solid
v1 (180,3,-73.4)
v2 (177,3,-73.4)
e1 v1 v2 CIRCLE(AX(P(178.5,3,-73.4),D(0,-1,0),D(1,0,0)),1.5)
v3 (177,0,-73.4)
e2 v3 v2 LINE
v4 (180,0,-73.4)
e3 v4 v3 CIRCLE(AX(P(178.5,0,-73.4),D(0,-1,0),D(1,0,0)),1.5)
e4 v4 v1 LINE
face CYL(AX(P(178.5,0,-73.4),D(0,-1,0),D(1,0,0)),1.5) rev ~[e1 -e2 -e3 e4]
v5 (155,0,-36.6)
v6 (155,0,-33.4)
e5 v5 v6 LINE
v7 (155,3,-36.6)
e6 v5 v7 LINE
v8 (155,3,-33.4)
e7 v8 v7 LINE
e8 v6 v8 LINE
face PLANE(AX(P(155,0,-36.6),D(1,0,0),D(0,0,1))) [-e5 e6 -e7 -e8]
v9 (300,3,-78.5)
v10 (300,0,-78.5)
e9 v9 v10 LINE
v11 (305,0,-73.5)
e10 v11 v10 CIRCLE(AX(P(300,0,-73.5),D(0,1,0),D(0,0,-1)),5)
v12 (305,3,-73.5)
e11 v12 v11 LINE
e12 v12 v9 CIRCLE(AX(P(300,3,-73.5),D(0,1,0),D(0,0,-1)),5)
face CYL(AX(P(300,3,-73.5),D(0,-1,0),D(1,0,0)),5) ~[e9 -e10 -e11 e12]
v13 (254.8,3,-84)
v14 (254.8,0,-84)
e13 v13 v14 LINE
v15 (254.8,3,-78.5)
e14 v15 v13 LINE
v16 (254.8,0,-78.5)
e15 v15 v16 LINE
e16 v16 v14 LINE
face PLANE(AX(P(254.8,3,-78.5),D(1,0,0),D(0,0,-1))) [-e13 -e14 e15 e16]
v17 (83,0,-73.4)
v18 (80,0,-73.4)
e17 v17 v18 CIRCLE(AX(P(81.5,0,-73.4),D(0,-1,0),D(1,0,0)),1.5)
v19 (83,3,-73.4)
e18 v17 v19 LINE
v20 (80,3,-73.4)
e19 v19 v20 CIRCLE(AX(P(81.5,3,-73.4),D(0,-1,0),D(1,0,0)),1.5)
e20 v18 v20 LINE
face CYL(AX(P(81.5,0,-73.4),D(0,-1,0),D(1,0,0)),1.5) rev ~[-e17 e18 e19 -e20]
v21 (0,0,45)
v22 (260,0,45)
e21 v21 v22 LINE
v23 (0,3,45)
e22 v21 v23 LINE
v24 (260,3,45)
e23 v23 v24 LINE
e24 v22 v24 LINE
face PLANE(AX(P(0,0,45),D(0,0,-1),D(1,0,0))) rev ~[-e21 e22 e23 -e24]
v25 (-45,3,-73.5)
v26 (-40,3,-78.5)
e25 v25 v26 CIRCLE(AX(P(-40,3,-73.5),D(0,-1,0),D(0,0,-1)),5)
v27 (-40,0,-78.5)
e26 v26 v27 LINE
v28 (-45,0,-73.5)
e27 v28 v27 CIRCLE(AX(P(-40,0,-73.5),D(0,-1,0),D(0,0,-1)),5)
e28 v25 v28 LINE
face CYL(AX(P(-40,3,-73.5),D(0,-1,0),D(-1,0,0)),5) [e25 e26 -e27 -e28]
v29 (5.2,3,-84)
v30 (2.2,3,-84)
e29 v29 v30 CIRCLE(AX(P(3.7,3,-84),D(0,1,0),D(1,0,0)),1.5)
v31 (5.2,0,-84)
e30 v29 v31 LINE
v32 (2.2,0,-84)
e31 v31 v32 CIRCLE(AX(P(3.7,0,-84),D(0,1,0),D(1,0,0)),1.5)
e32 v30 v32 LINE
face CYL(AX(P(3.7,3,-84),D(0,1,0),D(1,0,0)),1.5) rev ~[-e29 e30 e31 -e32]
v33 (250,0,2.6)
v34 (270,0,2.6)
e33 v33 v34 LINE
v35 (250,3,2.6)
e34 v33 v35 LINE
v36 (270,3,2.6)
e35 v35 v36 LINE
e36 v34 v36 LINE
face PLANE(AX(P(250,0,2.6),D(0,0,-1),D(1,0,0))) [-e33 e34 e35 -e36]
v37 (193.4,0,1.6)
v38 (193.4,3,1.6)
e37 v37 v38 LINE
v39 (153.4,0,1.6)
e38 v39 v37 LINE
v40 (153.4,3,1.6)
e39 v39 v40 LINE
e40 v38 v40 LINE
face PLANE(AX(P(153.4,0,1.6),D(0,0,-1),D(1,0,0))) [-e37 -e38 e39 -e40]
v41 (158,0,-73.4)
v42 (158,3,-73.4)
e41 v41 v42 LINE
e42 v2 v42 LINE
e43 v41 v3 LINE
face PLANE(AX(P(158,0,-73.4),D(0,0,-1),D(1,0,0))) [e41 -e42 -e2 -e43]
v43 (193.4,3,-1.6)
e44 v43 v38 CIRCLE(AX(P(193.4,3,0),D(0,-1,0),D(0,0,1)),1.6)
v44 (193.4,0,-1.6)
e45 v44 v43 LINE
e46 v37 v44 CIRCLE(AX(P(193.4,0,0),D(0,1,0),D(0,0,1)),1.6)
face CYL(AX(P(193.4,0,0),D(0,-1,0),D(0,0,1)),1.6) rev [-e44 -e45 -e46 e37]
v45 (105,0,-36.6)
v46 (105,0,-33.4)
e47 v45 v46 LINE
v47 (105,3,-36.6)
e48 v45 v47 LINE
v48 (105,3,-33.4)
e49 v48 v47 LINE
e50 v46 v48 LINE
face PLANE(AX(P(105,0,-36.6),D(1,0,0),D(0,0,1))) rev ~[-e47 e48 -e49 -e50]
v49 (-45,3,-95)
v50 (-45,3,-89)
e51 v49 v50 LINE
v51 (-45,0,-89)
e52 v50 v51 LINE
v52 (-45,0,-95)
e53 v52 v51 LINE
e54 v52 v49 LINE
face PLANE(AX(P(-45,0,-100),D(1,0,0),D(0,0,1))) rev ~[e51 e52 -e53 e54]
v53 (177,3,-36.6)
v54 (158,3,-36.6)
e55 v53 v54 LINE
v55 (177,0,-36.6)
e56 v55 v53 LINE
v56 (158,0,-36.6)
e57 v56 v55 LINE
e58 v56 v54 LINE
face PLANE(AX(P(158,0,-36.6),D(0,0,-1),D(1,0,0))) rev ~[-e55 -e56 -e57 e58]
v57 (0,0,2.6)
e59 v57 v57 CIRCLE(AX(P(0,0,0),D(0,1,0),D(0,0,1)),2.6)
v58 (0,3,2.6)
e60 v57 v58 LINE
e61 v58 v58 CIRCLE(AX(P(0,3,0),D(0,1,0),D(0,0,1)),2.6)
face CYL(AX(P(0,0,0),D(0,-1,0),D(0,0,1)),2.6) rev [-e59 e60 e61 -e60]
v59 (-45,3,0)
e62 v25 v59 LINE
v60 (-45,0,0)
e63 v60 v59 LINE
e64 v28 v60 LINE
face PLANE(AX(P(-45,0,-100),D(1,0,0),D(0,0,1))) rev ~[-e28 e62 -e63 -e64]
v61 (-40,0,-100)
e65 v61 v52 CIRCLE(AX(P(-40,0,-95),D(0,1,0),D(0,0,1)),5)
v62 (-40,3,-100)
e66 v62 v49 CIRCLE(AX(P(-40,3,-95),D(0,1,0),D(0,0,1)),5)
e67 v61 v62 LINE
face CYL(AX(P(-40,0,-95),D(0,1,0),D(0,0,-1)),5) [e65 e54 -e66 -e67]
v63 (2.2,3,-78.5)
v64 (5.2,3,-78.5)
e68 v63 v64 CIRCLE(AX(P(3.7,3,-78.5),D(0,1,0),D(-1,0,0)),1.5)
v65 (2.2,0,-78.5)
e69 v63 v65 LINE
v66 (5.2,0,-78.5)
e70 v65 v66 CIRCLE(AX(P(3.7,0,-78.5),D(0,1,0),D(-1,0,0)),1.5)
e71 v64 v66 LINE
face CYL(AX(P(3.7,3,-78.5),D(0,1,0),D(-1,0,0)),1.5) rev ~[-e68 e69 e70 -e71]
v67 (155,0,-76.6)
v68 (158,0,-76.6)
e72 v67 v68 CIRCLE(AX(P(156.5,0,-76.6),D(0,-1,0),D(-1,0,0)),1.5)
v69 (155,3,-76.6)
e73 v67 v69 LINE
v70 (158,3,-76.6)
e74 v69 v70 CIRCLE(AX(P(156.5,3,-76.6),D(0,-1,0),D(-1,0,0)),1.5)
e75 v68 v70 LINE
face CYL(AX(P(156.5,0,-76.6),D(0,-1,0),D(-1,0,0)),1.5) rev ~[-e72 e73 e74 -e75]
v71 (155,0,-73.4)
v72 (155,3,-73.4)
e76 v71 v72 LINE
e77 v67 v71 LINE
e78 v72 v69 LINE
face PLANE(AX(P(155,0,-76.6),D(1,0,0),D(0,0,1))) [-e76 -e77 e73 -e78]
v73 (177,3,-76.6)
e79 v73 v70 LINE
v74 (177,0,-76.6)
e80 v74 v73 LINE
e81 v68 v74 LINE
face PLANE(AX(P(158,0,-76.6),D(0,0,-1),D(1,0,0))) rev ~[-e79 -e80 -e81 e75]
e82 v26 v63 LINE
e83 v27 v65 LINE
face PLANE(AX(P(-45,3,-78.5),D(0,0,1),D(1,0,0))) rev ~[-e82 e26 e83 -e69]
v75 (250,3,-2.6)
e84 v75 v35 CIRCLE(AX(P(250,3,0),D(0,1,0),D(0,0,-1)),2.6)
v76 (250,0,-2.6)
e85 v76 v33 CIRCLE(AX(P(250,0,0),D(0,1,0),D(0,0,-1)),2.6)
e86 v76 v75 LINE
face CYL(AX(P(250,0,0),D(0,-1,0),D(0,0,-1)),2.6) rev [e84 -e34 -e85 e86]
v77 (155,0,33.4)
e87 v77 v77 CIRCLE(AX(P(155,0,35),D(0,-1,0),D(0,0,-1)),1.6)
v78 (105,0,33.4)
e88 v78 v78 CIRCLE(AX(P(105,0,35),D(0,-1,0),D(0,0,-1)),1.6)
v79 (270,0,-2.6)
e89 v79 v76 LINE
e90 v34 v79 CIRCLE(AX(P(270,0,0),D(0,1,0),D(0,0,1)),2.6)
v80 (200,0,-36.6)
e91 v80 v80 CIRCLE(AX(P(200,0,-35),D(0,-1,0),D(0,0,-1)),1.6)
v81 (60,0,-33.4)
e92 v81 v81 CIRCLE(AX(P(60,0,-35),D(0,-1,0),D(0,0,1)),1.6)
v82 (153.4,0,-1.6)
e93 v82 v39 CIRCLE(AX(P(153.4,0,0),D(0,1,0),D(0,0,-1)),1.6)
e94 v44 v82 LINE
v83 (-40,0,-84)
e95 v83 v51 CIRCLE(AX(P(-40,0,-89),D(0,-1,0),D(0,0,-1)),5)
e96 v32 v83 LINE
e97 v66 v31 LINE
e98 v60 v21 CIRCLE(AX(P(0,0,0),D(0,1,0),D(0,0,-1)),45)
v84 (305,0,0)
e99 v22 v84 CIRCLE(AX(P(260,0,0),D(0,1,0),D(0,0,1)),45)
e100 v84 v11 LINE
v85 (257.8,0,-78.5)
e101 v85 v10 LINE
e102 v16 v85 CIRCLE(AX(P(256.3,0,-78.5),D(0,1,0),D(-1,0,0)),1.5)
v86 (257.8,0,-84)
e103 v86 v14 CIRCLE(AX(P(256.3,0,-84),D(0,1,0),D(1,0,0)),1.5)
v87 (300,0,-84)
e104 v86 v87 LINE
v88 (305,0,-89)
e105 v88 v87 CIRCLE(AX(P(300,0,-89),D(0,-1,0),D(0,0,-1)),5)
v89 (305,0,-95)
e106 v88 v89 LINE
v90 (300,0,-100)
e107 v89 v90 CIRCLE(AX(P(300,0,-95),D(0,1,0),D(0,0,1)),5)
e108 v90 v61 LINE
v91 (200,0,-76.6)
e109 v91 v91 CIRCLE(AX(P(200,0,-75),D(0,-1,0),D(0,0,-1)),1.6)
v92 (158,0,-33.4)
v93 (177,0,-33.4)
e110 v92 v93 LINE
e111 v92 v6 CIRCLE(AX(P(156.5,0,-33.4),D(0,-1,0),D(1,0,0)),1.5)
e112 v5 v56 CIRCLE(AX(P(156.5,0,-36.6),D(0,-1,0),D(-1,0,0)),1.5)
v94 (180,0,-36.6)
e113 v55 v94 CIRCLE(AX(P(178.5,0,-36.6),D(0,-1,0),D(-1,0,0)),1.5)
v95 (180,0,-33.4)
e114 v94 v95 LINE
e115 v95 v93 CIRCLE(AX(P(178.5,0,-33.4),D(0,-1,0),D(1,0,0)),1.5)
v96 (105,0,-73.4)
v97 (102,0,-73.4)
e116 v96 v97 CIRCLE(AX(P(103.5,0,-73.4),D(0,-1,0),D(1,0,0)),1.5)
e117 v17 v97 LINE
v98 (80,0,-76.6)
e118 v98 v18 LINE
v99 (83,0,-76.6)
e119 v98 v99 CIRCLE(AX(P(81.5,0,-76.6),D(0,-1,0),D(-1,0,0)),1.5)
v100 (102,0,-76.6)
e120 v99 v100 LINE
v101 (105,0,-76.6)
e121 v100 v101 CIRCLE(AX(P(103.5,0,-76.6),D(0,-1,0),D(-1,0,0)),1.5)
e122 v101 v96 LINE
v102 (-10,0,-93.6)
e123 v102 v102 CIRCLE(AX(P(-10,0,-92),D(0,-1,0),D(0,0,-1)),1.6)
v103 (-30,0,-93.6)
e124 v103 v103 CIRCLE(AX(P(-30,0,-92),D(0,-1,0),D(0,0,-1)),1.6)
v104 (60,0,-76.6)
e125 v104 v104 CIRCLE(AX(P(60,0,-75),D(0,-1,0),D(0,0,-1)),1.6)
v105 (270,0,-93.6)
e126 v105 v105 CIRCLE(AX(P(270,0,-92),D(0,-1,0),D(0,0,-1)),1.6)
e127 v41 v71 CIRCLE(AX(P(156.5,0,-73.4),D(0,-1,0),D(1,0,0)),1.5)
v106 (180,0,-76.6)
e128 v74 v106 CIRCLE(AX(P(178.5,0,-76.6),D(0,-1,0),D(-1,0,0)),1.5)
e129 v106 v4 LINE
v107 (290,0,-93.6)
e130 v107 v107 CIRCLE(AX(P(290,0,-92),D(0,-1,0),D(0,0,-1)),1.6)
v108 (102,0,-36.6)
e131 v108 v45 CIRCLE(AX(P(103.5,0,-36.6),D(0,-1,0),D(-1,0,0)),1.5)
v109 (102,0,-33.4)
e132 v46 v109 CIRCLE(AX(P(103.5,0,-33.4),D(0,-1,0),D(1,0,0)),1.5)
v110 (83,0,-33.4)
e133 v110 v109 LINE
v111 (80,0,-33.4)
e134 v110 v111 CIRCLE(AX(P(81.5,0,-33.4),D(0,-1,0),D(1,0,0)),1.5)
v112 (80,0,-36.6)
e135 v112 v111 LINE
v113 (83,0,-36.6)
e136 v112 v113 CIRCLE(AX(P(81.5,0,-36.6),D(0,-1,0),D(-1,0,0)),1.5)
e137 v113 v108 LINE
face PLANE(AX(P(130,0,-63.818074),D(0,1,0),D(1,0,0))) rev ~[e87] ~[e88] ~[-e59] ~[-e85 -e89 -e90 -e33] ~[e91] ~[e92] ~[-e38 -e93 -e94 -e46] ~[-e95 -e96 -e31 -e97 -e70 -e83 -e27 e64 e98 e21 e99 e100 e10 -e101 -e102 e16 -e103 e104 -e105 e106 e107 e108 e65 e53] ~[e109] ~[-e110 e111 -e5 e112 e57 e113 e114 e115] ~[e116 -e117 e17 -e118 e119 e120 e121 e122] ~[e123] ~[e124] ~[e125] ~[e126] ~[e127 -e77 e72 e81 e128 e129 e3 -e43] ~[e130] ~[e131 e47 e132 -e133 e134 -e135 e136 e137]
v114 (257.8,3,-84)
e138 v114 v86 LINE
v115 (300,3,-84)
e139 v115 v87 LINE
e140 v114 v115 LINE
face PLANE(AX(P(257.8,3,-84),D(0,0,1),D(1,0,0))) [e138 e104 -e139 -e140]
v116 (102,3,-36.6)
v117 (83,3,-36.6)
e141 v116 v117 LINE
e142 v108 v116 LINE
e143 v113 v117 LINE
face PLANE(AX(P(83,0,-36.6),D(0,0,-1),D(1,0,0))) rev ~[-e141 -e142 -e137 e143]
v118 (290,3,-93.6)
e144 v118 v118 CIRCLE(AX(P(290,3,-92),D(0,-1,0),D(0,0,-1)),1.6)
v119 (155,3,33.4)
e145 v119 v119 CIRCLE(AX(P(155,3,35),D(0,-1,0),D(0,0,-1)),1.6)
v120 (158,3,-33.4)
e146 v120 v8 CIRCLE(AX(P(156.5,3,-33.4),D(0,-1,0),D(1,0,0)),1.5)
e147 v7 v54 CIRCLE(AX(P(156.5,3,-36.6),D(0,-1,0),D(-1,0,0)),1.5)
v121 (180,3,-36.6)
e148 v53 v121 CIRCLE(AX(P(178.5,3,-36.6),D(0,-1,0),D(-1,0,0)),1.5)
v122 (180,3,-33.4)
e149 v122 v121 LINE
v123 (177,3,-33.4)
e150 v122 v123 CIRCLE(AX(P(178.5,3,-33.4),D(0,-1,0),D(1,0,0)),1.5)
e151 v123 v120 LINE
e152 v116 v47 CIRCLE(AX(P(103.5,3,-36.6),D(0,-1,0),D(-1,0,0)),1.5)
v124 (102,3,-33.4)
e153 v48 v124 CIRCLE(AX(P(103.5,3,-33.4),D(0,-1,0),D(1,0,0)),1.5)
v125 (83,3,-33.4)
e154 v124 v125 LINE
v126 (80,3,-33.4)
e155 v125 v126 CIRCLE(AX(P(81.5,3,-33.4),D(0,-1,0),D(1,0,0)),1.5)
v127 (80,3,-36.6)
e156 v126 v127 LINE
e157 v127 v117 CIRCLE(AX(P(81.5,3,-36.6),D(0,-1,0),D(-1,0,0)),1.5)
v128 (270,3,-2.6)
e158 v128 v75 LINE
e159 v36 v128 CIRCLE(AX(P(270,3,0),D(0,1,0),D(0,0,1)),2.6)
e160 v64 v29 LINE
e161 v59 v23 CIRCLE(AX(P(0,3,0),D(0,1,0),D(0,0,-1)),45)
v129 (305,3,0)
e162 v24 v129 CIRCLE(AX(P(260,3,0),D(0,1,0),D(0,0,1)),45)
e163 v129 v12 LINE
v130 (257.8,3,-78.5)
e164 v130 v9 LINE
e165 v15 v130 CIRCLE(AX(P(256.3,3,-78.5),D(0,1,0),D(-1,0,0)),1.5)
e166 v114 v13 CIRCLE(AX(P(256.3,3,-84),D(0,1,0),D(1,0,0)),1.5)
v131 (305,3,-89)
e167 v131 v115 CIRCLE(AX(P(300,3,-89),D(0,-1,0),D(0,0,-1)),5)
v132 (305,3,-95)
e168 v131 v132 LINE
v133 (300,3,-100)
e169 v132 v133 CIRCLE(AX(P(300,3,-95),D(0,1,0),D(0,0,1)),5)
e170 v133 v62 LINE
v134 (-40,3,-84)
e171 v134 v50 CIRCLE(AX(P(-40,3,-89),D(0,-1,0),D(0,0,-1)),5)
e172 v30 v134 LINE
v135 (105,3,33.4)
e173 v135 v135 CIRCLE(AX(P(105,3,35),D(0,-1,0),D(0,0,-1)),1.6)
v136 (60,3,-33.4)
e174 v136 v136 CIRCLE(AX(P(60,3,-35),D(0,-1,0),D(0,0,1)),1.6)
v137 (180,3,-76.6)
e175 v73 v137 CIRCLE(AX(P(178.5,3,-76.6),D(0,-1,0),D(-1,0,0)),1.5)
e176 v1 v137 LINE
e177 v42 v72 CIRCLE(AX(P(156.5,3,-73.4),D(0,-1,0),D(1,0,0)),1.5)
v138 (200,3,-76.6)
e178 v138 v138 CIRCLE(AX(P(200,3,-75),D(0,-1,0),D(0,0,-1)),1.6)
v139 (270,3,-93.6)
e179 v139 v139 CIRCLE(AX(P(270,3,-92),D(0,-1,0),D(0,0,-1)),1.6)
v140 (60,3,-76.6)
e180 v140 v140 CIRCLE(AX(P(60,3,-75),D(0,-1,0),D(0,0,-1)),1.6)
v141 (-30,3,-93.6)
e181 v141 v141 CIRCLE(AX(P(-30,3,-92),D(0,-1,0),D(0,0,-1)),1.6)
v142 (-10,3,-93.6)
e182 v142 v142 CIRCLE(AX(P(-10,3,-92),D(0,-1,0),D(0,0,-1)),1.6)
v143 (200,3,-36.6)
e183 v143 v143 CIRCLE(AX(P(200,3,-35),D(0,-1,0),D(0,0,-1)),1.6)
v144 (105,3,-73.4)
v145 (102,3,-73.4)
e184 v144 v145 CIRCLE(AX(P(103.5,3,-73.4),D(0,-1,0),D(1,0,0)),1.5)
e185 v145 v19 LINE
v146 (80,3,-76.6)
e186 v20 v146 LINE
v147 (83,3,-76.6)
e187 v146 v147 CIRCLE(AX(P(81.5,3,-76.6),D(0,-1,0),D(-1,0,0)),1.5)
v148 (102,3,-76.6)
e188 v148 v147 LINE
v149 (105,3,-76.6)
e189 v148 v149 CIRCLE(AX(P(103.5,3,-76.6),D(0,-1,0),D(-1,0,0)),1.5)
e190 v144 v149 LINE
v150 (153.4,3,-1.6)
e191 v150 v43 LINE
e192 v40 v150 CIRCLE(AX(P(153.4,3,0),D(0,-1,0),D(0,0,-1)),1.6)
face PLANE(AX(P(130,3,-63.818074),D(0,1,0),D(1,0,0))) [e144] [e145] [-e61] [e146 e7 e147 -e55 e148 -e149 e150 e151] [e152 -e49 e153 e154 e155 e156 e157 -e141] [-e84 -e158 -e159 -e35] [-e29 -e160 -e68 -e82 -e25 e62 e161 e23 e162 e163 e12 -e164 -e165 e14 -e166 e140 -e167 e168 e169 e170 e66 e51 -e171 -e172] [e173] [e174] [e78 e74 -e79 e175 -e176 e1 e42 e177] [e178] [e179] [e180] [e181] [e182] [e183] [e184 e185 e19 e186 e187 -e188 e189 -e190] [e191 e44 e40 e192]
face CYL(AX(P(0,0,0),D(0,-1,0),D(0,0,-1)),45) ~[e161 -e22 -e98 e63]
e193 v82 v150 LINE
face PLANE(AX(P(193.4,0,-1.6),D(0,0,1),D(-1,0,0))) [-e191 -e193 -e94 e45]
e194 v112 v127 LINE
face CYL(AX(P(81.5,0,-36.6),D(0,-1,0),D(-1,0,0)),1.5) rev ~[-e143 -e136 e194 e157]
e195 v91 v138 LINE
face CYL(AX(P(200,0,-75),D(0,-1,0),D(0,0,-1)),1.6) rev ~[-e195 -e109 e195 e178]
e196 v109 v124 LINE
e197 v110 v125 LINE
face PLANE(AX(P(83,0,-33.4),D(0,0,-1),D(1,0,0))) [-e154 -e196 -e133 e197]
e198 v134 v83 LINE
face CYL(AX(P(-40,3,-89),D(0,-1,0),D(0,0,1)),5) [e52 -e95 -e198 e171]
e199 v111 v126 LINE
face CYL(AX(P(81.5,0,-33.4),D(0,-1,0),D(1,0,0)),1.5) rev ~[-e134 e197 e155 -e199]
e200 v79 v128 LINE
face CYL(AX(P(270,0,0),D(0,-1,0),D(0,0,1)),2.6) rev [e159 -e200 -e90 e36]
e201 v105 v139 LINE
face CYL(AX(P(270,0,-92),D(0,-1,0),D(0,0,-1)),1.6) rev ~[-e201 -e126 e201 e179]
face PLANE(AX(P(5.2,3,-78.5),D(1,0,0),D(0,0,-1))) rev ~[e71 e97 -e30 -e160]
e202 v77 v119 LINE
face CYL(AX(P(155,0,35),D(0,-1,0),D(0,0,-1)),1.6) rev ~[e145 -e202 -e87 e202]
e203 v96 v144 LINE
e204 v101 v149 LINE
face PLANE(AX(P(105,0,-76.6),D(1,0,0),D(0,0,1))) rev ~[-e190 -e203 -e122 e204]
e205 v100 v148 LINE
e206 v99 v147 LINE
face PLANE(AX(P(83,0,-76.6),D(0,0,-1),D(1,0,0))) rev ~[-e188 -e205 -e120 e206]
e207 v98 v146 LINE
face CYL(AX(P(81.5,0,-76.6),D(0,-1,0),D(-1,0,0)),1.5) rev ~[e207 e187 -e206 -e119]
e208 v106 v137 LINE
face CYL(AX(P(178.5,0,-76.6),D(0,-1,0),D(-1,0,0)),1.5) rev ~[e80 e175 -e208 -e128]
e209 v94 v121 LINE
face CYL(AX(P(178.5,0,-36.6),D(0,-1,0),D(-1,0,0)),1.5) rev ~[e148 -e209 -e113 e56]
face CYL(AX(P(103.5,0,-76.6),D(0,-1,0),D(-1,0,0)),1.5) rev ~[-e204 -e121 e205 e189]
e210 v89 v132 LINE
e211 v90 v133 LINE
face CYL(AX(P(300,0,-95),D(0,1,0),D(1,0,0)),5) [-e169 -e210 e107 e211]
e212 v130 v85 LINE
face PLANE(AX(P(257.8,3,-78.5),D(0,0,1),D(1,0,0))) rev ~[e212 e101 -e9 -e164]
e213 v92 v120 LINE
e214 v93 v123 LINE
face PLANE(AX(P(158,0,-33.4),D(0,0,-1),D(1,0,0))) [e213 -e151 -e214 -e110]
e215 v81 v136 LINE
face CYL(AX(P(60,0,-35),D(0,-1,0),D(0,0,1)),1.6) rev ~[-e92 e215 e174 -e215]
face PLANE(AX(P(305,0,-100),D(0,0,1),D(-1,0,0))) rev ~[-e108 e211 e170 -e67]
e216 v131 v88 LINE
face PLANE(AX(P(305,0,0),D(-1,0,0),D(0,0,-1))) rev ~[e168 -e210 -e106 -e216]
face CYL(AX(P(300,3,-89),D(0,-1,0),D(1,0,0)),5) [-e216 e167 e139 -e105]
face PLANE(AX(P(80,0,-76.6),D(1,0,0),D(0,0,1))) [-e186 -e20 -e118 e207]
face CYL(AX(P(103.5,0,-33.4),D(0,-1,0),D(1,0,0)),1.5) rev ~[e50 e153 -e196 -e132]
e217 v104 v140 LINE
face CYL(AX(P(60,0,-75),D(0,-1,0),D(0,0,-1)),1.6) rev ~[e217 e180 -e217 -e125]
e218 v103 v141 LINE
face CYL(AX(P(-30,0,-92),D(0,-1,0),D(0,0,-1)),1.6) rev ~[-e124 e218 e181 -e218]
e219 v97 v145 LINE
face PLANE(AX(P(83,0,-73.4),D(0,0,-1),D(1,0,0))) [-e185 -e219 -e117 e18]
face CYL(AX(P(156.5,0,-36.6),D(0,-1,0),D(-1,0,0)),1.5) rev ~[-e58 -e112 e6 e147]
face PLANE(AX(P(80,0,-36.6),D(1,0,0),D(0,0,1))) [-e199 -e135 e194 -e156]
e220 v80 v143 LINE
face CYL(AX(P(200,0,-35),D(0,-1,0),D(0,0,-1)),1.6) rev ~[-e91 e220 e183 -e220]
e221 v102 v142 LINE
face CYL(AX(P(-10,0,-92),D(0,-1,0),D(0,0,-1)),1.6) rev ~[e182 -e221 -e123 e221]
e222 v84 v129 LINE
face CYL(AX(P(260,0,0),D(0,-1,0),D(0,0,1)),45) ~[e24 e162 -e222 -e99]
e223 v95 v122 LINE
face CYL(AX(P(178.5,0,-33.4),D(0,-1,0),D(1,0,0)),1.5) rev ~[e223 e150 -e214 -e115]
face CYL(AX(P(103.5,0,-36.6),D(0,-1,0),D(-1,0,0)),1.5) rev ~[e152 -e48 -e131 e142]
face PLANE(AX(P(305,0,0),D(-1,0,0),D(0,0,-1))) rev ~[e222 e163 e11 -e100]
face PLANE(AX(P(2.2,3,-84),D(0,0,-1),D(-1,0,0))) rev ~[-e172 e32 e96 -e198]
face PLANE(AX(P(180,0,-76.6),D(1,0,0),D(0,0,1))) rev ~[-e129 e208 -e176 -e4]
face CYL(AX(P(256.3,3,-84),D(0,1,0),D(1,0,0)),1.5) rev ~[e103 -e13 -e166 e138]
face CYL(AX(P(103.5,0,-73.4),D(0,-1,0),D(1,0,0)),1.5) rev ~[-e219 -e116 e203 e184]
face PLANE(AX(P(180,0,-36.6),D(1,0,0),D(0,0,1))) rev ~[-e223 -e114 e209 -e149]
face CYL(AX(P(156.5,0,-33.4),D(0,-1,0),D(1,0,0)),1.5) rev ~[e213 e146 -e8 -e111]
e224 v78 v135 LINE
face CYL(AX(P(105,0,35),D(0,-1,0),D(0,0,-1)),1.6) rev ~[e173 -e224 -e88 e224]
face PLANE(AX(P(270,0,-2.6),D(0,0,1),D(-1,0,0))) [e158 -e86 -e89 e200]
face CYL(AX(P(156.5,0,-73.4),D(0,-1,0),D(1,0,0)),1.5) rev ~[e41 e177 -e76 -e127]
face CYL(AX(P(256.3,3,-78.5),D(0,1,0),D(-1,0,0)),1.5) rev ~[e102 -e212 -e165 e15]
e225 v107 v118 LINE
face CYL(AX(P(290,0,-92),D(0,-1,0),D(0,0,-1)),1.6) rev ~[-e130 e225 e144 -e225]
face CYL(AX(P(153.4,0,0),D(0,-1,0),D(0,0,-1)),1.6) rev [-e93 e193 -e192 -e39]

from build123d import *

# Parameters (mm, degrees)
SKETCH1_R           = 2.6
BOSS_EXTRUDE1_DEPTH = 3
SKETCH2_W           = 3
SKETCH2_H           = 3.2
SKETCH2_W_2         = 19
SKETCH2_R           = 1.6
CUT_EXTRUDE1_DEPTH  = 10
FILLET1_R           = 5
SKETCH3_R           = 1.6
CUT_EXTRUDE2_DEPTH  = 321.989096388
SKETCH4_W           = 47.2
SKETCH4_H           = 5.5
SKETCH4_W_2         = 3
CUT_EXTRUDE3_DEPTH  = 321.989096388
FILLET2_R           = 5


with BuildPart() as part:
    # Sketch1 → Boss-Extrude1 (new body)
    # profile 1 of 2: a face of its own
    with BuildSketch(Plane(origin=(0, 0, 0), x_dir=(1, 0, 0), z_dir=(0, 1, 0))):
        with BuildLine():
            Line((0, -45), (260, -45))
            ThreePointArc((260, -45), (305, 0), (260, 45))
            Line((260, 45), (0, 45))
            ThreePointArc((0, 45), (-45, 0), (0, -45))
        make_face()
        with Locations(Location((0, 0, 0), (0, 0, 270))):
            Circle(SKETCH1_R, mode=Mode.SUBTRACT)
        with BuildLine():
            ThreePointArc((250, 2.6), (247.4, 0), (250, -2.6))
            Line((250, -2.6), (270, -2.6))
            ThreePointArc((270, -2.6), (272.6, 0), (270, 2.6))
            Line((270, 2.6), (250, 2.6))
        make_face(mode=Mode.SUBTRACT)
    # profile 2 of 2: a face of its own
    with BuildSketch(Plane(origin=(0, 0, 0), x_dir=(1, 0, 0), z_dir=(0, 1, 0))):
        with BuildLine():
            ThreePointArc((-45, 0), (-31.819805153, 31.819805153), (0, 45))
            Line((0, 45), (260, 45))
            ThreePointArc((260, 45), (291.819805153, 31.819805153), (305, 0))
            Line((305, 0), (305, 100))
            Line((305, 100), (-45, 100))
            Line((-45, 100), (-45, 0))
        make_face()
    extrude(amount=BOSS_EXTRUDE1_DEPTH)

    # Sketch2 → Cut-Extrude1 (cut)
    with BuildSketch(Plane.XZ):
        with Locations((81.5, -35)):
            Rectangle(SKETCH2_W, SKETCH2_H)
        with BuildLine():
            Line((80, -33.4), (83, -33.4))
            ThreePointArc((83, -33.4), (81.5, -31.9), (80, -33.4))
        make_face()
        with BuildLine():
            ThreePointArc((80, -36.6), (81.5, -38.1), (83, -36.6))
            Line((83, -36.6), (80, -36.6))
        make_face()
        with Locations((92.5, -35)):
            Rectangle(SKETCH2_W_2, SKETCH2_H)
        with BuildLine():
            ThreePointArc((105, -33.4), (103.5, -31.9), (102, -33.4))
            Line((102, -33.4), (105, -33.4))
        make_face()
        with Locations((103.5, -35)):
            Rectangle(SKETCH2_W, SKETCH2_H)
        with BuildLine():
            Line((105, -36.6), (102, -36.6))
            ThreePointArc((102, -36.6), (103.5, -38.1), (105, -36.6))
        make_face()
        with BuildLine():
            ThreePointArc((83, -73.4), (81.5, -71.9), (80, -73.4))
            Line((80, -73.4), (83, -73.4))
        make_face()
        with Locations((81.5, -75)):
            Rectangle(SKETCH2_W, SKETCH2_H)
        with Locations((92.5, -75)):
            Rectangle(SKETCH2_W_2, SKETCH2_H)
        with BuildLine():
            Line((83, -76.6), (80, -76.6))
            ThreePointArc((80, -76.6), (81.5, -78.1), (83, -76.6))
        make_face()
        with BuildLine():
            ThreePointArc((105, -73.4), (103.5, -71.9), (102, -73.4))
            Line((102, -73.4), (105, -73.4))
        make_face()
        with Locations((103.5, -75)):
            Rectangle(SKETCH2_W, SKETCH2_H)
        with BuildLine():
            Line((105, -76.6), (102, -76.6))
            ThreePointArc((102, -76.6), (103.5, -78.1), (105, -76.6))
        make_face()
        with BuildLine():
            Line((155, -33.4), (158, -33.4))
            ThreePointArc((158, -33.4), (156.5, -31.9), (155, -33.4))
        make_face()
        with Locations((156.5, -35)):
            Rectangle(SKETCH2_W, SKETCH2_H)
        with BuildLine():
            ThreePointArc((155, -36.6), (156.5, -38.1), (158, -36.6))
            Line((158, -36.6), (155, -36.6))
        make_face()
        with Locations((167.5, -35)):
            Rectangle(SKETCH2_W_2, SKETCH2_H)
        with BuildLine():
            Line((177, -33.4), (180, -33.4))
            ThreePointArc((180, -33.4), (178.5, -31.9), (177, -33.4))
        make_face()
        with Locations((178.5, -35)):
            Rectangle(SKETCH2_W, SKETCH2_H)
        with BuildLine():
            ThreePointArc((177, -36.6), (178.5, -38.1), (180, -36.6))
            Line((180, -36.6), (177, -36.6))
        make_face()
        with BuildLine():
            ThreePointArc((158, -73.4), (156.5, -71.9), (155, -73.4))
            Line((155, -73.4), (158, -73.4))
        make_face()
        with Locations((156.5, -75)):
            Rectangle(SKETCH2_W, SKETCH2_H)
        with BuildLine():
            Line((158, -76.6), (155, -76.6))
            ThreePointArc((155, -76.6), (156.5, -78.1), (158, -76.6))
        make_face()
        with Locations((167.5, -75)):
            Rectangle(SKETCH2_W_2, SKETCH2_H)
        with BuildLine():
            ThreePointArc((180, -73.4), (178.5, -71.9), (177, -73.4))
            Line((177, -73.4), (180, -73.4))
        make_face()
        with Locations((178.5, -75)):
            Rectangle(SKETCH2_W, SKETCH2_H)
        with BuildLine():
            Line((180, -76.6), (177, -76.6))
            ThreePointArc((177, -76.6), (178.5, -78.1), (180, -76.6))
        make_face()
        with Locations(Location((200, -75, 0), (0, 0, 270))):
            Circle(SKETCH2_R)
        with Locations(Location((290, -92, 0), (0, 0, 270))):
            Circle(SKETCH2_R)
        with Locations(Location((270, -92, 0), (0, 0, 270))):
            Circle(SKETCH2_R)
        with Locations(Location((60, -35, 0), (0, 0, 90))):
            Circle(SKETCH2_R)
        with Locations(Location((60, -75, 0), (0, 0, 270))):
            Circle(SKETCH2_R)
        with Locations(Location((-10, -92, 0), (0, 0, 270))):
            Circle(SKETCH2_R)
        with Locations(Location((-30, -92, 0), (0, 0, 270))):
            Circle(SKETCH2_R)
        with Locations(Location((200, -35, 0), (0, 0, 270))):
            Circle(SKETCH2_R)
    extrude(amount=-CUT_EXTRUDE1_DEPTH, mode=Mode.SUBTRACT)

    # Fillet1
    fillet1_edges = [part.edges().sort_by_distance(p)[0] for p in [
        (-45, 1.5, -100),
        (305, 1.5, -100),
    ]]
    fillet(fillet1_edges, radius=FILLET1_R)

    # Sketch3 → Cut-Extrude2 (cut, through all)
    with BuildSketch(Plane.XZ):
        with Locations(Location((105, 35, 0), (0, 0, 270))):
            Circle(SKETCH3_R)
        with Locations(Location((155, 35, 0), (0, 0, 270))):
            Circle(SKETCH3_R)
        with BuildLine():
            Line((193.4, -1.6), (153.4, -1.6))
            ThreePointArc((153.4, -1.6), (151.8, 0), (153.4, 1.6))
            Line((153.4, 1.6), (193.4, 1.6))
            ThreePointArc((193.4, 1.6), (195, 0), (193.4, -1.6))
        make_face()
    extrude(amount=-CUT_EXTRUDE2_DEPTH, mode=Mode.SUBTRACT)

    # Sketch4 → Cut-Extrude3 (cut, through all)
    with BuildSketch(Plane(origin=(0, 3, 0), x_dir=(1, 0, 0), z_dir=(0, 1, 0))):
        with Locations((-21.4, 81.25)):
            Rectangle(SKETCH4_W, SKETCH4_H)
        with Locations((3.7, 81.25)):
            Rectangle(SKETCH4_W_2, SKETCH4_H)
        with BuildLine():
            ThreePointArc((5.2, 84), (3.7, 85.5), (2.2, 84))
            Line((2.2, 84), (5.2, 84))
        make_face()
        with BuildLine():
            Line((5.2, 78.5), (2.2, 78.5))
            ThreePointArc((2.2, 78.5), (3.7, 77), (5.2, 78.5))
        make_face()
        with BuildLine():
            ThreePointArc((257.8, 84), (256.3, 85.5), (254.8, 84))
            Line((254.8, 84), (257.8, 84))
        make_face()
        with Locations((256.3, 81.25)):
            Rectangle(SKETCH4_W_2, SKETCH4_H)
        with BuildLine():
            Line((257.8, 78.5), (254.8, 78.5))
            ThreePointArc((254.8, 78.5), (256.3, 77), (257.8, 78.5))
        make_face()
        with Locations((281.4, 81.25)):
            Rectangle(SKETCH4_W, SKETCH4_H)
    extrude(amount=-CUT_EXTRUDE3_DEPTH, mode=Mode.SUBTRACT)

    # Fillet2
    fillet2_edges = [part.edges().sort_by_distance(p)[0] for p in [
        (-45, 1.5, -78.5),
        (-45, 1.5, -84),
        (305, 1.5, -84),
        (305, 1.5, -78.5),
    ]]
    fillet(fillet2_edges, radius=FILLET2_R)


solid = part.part
